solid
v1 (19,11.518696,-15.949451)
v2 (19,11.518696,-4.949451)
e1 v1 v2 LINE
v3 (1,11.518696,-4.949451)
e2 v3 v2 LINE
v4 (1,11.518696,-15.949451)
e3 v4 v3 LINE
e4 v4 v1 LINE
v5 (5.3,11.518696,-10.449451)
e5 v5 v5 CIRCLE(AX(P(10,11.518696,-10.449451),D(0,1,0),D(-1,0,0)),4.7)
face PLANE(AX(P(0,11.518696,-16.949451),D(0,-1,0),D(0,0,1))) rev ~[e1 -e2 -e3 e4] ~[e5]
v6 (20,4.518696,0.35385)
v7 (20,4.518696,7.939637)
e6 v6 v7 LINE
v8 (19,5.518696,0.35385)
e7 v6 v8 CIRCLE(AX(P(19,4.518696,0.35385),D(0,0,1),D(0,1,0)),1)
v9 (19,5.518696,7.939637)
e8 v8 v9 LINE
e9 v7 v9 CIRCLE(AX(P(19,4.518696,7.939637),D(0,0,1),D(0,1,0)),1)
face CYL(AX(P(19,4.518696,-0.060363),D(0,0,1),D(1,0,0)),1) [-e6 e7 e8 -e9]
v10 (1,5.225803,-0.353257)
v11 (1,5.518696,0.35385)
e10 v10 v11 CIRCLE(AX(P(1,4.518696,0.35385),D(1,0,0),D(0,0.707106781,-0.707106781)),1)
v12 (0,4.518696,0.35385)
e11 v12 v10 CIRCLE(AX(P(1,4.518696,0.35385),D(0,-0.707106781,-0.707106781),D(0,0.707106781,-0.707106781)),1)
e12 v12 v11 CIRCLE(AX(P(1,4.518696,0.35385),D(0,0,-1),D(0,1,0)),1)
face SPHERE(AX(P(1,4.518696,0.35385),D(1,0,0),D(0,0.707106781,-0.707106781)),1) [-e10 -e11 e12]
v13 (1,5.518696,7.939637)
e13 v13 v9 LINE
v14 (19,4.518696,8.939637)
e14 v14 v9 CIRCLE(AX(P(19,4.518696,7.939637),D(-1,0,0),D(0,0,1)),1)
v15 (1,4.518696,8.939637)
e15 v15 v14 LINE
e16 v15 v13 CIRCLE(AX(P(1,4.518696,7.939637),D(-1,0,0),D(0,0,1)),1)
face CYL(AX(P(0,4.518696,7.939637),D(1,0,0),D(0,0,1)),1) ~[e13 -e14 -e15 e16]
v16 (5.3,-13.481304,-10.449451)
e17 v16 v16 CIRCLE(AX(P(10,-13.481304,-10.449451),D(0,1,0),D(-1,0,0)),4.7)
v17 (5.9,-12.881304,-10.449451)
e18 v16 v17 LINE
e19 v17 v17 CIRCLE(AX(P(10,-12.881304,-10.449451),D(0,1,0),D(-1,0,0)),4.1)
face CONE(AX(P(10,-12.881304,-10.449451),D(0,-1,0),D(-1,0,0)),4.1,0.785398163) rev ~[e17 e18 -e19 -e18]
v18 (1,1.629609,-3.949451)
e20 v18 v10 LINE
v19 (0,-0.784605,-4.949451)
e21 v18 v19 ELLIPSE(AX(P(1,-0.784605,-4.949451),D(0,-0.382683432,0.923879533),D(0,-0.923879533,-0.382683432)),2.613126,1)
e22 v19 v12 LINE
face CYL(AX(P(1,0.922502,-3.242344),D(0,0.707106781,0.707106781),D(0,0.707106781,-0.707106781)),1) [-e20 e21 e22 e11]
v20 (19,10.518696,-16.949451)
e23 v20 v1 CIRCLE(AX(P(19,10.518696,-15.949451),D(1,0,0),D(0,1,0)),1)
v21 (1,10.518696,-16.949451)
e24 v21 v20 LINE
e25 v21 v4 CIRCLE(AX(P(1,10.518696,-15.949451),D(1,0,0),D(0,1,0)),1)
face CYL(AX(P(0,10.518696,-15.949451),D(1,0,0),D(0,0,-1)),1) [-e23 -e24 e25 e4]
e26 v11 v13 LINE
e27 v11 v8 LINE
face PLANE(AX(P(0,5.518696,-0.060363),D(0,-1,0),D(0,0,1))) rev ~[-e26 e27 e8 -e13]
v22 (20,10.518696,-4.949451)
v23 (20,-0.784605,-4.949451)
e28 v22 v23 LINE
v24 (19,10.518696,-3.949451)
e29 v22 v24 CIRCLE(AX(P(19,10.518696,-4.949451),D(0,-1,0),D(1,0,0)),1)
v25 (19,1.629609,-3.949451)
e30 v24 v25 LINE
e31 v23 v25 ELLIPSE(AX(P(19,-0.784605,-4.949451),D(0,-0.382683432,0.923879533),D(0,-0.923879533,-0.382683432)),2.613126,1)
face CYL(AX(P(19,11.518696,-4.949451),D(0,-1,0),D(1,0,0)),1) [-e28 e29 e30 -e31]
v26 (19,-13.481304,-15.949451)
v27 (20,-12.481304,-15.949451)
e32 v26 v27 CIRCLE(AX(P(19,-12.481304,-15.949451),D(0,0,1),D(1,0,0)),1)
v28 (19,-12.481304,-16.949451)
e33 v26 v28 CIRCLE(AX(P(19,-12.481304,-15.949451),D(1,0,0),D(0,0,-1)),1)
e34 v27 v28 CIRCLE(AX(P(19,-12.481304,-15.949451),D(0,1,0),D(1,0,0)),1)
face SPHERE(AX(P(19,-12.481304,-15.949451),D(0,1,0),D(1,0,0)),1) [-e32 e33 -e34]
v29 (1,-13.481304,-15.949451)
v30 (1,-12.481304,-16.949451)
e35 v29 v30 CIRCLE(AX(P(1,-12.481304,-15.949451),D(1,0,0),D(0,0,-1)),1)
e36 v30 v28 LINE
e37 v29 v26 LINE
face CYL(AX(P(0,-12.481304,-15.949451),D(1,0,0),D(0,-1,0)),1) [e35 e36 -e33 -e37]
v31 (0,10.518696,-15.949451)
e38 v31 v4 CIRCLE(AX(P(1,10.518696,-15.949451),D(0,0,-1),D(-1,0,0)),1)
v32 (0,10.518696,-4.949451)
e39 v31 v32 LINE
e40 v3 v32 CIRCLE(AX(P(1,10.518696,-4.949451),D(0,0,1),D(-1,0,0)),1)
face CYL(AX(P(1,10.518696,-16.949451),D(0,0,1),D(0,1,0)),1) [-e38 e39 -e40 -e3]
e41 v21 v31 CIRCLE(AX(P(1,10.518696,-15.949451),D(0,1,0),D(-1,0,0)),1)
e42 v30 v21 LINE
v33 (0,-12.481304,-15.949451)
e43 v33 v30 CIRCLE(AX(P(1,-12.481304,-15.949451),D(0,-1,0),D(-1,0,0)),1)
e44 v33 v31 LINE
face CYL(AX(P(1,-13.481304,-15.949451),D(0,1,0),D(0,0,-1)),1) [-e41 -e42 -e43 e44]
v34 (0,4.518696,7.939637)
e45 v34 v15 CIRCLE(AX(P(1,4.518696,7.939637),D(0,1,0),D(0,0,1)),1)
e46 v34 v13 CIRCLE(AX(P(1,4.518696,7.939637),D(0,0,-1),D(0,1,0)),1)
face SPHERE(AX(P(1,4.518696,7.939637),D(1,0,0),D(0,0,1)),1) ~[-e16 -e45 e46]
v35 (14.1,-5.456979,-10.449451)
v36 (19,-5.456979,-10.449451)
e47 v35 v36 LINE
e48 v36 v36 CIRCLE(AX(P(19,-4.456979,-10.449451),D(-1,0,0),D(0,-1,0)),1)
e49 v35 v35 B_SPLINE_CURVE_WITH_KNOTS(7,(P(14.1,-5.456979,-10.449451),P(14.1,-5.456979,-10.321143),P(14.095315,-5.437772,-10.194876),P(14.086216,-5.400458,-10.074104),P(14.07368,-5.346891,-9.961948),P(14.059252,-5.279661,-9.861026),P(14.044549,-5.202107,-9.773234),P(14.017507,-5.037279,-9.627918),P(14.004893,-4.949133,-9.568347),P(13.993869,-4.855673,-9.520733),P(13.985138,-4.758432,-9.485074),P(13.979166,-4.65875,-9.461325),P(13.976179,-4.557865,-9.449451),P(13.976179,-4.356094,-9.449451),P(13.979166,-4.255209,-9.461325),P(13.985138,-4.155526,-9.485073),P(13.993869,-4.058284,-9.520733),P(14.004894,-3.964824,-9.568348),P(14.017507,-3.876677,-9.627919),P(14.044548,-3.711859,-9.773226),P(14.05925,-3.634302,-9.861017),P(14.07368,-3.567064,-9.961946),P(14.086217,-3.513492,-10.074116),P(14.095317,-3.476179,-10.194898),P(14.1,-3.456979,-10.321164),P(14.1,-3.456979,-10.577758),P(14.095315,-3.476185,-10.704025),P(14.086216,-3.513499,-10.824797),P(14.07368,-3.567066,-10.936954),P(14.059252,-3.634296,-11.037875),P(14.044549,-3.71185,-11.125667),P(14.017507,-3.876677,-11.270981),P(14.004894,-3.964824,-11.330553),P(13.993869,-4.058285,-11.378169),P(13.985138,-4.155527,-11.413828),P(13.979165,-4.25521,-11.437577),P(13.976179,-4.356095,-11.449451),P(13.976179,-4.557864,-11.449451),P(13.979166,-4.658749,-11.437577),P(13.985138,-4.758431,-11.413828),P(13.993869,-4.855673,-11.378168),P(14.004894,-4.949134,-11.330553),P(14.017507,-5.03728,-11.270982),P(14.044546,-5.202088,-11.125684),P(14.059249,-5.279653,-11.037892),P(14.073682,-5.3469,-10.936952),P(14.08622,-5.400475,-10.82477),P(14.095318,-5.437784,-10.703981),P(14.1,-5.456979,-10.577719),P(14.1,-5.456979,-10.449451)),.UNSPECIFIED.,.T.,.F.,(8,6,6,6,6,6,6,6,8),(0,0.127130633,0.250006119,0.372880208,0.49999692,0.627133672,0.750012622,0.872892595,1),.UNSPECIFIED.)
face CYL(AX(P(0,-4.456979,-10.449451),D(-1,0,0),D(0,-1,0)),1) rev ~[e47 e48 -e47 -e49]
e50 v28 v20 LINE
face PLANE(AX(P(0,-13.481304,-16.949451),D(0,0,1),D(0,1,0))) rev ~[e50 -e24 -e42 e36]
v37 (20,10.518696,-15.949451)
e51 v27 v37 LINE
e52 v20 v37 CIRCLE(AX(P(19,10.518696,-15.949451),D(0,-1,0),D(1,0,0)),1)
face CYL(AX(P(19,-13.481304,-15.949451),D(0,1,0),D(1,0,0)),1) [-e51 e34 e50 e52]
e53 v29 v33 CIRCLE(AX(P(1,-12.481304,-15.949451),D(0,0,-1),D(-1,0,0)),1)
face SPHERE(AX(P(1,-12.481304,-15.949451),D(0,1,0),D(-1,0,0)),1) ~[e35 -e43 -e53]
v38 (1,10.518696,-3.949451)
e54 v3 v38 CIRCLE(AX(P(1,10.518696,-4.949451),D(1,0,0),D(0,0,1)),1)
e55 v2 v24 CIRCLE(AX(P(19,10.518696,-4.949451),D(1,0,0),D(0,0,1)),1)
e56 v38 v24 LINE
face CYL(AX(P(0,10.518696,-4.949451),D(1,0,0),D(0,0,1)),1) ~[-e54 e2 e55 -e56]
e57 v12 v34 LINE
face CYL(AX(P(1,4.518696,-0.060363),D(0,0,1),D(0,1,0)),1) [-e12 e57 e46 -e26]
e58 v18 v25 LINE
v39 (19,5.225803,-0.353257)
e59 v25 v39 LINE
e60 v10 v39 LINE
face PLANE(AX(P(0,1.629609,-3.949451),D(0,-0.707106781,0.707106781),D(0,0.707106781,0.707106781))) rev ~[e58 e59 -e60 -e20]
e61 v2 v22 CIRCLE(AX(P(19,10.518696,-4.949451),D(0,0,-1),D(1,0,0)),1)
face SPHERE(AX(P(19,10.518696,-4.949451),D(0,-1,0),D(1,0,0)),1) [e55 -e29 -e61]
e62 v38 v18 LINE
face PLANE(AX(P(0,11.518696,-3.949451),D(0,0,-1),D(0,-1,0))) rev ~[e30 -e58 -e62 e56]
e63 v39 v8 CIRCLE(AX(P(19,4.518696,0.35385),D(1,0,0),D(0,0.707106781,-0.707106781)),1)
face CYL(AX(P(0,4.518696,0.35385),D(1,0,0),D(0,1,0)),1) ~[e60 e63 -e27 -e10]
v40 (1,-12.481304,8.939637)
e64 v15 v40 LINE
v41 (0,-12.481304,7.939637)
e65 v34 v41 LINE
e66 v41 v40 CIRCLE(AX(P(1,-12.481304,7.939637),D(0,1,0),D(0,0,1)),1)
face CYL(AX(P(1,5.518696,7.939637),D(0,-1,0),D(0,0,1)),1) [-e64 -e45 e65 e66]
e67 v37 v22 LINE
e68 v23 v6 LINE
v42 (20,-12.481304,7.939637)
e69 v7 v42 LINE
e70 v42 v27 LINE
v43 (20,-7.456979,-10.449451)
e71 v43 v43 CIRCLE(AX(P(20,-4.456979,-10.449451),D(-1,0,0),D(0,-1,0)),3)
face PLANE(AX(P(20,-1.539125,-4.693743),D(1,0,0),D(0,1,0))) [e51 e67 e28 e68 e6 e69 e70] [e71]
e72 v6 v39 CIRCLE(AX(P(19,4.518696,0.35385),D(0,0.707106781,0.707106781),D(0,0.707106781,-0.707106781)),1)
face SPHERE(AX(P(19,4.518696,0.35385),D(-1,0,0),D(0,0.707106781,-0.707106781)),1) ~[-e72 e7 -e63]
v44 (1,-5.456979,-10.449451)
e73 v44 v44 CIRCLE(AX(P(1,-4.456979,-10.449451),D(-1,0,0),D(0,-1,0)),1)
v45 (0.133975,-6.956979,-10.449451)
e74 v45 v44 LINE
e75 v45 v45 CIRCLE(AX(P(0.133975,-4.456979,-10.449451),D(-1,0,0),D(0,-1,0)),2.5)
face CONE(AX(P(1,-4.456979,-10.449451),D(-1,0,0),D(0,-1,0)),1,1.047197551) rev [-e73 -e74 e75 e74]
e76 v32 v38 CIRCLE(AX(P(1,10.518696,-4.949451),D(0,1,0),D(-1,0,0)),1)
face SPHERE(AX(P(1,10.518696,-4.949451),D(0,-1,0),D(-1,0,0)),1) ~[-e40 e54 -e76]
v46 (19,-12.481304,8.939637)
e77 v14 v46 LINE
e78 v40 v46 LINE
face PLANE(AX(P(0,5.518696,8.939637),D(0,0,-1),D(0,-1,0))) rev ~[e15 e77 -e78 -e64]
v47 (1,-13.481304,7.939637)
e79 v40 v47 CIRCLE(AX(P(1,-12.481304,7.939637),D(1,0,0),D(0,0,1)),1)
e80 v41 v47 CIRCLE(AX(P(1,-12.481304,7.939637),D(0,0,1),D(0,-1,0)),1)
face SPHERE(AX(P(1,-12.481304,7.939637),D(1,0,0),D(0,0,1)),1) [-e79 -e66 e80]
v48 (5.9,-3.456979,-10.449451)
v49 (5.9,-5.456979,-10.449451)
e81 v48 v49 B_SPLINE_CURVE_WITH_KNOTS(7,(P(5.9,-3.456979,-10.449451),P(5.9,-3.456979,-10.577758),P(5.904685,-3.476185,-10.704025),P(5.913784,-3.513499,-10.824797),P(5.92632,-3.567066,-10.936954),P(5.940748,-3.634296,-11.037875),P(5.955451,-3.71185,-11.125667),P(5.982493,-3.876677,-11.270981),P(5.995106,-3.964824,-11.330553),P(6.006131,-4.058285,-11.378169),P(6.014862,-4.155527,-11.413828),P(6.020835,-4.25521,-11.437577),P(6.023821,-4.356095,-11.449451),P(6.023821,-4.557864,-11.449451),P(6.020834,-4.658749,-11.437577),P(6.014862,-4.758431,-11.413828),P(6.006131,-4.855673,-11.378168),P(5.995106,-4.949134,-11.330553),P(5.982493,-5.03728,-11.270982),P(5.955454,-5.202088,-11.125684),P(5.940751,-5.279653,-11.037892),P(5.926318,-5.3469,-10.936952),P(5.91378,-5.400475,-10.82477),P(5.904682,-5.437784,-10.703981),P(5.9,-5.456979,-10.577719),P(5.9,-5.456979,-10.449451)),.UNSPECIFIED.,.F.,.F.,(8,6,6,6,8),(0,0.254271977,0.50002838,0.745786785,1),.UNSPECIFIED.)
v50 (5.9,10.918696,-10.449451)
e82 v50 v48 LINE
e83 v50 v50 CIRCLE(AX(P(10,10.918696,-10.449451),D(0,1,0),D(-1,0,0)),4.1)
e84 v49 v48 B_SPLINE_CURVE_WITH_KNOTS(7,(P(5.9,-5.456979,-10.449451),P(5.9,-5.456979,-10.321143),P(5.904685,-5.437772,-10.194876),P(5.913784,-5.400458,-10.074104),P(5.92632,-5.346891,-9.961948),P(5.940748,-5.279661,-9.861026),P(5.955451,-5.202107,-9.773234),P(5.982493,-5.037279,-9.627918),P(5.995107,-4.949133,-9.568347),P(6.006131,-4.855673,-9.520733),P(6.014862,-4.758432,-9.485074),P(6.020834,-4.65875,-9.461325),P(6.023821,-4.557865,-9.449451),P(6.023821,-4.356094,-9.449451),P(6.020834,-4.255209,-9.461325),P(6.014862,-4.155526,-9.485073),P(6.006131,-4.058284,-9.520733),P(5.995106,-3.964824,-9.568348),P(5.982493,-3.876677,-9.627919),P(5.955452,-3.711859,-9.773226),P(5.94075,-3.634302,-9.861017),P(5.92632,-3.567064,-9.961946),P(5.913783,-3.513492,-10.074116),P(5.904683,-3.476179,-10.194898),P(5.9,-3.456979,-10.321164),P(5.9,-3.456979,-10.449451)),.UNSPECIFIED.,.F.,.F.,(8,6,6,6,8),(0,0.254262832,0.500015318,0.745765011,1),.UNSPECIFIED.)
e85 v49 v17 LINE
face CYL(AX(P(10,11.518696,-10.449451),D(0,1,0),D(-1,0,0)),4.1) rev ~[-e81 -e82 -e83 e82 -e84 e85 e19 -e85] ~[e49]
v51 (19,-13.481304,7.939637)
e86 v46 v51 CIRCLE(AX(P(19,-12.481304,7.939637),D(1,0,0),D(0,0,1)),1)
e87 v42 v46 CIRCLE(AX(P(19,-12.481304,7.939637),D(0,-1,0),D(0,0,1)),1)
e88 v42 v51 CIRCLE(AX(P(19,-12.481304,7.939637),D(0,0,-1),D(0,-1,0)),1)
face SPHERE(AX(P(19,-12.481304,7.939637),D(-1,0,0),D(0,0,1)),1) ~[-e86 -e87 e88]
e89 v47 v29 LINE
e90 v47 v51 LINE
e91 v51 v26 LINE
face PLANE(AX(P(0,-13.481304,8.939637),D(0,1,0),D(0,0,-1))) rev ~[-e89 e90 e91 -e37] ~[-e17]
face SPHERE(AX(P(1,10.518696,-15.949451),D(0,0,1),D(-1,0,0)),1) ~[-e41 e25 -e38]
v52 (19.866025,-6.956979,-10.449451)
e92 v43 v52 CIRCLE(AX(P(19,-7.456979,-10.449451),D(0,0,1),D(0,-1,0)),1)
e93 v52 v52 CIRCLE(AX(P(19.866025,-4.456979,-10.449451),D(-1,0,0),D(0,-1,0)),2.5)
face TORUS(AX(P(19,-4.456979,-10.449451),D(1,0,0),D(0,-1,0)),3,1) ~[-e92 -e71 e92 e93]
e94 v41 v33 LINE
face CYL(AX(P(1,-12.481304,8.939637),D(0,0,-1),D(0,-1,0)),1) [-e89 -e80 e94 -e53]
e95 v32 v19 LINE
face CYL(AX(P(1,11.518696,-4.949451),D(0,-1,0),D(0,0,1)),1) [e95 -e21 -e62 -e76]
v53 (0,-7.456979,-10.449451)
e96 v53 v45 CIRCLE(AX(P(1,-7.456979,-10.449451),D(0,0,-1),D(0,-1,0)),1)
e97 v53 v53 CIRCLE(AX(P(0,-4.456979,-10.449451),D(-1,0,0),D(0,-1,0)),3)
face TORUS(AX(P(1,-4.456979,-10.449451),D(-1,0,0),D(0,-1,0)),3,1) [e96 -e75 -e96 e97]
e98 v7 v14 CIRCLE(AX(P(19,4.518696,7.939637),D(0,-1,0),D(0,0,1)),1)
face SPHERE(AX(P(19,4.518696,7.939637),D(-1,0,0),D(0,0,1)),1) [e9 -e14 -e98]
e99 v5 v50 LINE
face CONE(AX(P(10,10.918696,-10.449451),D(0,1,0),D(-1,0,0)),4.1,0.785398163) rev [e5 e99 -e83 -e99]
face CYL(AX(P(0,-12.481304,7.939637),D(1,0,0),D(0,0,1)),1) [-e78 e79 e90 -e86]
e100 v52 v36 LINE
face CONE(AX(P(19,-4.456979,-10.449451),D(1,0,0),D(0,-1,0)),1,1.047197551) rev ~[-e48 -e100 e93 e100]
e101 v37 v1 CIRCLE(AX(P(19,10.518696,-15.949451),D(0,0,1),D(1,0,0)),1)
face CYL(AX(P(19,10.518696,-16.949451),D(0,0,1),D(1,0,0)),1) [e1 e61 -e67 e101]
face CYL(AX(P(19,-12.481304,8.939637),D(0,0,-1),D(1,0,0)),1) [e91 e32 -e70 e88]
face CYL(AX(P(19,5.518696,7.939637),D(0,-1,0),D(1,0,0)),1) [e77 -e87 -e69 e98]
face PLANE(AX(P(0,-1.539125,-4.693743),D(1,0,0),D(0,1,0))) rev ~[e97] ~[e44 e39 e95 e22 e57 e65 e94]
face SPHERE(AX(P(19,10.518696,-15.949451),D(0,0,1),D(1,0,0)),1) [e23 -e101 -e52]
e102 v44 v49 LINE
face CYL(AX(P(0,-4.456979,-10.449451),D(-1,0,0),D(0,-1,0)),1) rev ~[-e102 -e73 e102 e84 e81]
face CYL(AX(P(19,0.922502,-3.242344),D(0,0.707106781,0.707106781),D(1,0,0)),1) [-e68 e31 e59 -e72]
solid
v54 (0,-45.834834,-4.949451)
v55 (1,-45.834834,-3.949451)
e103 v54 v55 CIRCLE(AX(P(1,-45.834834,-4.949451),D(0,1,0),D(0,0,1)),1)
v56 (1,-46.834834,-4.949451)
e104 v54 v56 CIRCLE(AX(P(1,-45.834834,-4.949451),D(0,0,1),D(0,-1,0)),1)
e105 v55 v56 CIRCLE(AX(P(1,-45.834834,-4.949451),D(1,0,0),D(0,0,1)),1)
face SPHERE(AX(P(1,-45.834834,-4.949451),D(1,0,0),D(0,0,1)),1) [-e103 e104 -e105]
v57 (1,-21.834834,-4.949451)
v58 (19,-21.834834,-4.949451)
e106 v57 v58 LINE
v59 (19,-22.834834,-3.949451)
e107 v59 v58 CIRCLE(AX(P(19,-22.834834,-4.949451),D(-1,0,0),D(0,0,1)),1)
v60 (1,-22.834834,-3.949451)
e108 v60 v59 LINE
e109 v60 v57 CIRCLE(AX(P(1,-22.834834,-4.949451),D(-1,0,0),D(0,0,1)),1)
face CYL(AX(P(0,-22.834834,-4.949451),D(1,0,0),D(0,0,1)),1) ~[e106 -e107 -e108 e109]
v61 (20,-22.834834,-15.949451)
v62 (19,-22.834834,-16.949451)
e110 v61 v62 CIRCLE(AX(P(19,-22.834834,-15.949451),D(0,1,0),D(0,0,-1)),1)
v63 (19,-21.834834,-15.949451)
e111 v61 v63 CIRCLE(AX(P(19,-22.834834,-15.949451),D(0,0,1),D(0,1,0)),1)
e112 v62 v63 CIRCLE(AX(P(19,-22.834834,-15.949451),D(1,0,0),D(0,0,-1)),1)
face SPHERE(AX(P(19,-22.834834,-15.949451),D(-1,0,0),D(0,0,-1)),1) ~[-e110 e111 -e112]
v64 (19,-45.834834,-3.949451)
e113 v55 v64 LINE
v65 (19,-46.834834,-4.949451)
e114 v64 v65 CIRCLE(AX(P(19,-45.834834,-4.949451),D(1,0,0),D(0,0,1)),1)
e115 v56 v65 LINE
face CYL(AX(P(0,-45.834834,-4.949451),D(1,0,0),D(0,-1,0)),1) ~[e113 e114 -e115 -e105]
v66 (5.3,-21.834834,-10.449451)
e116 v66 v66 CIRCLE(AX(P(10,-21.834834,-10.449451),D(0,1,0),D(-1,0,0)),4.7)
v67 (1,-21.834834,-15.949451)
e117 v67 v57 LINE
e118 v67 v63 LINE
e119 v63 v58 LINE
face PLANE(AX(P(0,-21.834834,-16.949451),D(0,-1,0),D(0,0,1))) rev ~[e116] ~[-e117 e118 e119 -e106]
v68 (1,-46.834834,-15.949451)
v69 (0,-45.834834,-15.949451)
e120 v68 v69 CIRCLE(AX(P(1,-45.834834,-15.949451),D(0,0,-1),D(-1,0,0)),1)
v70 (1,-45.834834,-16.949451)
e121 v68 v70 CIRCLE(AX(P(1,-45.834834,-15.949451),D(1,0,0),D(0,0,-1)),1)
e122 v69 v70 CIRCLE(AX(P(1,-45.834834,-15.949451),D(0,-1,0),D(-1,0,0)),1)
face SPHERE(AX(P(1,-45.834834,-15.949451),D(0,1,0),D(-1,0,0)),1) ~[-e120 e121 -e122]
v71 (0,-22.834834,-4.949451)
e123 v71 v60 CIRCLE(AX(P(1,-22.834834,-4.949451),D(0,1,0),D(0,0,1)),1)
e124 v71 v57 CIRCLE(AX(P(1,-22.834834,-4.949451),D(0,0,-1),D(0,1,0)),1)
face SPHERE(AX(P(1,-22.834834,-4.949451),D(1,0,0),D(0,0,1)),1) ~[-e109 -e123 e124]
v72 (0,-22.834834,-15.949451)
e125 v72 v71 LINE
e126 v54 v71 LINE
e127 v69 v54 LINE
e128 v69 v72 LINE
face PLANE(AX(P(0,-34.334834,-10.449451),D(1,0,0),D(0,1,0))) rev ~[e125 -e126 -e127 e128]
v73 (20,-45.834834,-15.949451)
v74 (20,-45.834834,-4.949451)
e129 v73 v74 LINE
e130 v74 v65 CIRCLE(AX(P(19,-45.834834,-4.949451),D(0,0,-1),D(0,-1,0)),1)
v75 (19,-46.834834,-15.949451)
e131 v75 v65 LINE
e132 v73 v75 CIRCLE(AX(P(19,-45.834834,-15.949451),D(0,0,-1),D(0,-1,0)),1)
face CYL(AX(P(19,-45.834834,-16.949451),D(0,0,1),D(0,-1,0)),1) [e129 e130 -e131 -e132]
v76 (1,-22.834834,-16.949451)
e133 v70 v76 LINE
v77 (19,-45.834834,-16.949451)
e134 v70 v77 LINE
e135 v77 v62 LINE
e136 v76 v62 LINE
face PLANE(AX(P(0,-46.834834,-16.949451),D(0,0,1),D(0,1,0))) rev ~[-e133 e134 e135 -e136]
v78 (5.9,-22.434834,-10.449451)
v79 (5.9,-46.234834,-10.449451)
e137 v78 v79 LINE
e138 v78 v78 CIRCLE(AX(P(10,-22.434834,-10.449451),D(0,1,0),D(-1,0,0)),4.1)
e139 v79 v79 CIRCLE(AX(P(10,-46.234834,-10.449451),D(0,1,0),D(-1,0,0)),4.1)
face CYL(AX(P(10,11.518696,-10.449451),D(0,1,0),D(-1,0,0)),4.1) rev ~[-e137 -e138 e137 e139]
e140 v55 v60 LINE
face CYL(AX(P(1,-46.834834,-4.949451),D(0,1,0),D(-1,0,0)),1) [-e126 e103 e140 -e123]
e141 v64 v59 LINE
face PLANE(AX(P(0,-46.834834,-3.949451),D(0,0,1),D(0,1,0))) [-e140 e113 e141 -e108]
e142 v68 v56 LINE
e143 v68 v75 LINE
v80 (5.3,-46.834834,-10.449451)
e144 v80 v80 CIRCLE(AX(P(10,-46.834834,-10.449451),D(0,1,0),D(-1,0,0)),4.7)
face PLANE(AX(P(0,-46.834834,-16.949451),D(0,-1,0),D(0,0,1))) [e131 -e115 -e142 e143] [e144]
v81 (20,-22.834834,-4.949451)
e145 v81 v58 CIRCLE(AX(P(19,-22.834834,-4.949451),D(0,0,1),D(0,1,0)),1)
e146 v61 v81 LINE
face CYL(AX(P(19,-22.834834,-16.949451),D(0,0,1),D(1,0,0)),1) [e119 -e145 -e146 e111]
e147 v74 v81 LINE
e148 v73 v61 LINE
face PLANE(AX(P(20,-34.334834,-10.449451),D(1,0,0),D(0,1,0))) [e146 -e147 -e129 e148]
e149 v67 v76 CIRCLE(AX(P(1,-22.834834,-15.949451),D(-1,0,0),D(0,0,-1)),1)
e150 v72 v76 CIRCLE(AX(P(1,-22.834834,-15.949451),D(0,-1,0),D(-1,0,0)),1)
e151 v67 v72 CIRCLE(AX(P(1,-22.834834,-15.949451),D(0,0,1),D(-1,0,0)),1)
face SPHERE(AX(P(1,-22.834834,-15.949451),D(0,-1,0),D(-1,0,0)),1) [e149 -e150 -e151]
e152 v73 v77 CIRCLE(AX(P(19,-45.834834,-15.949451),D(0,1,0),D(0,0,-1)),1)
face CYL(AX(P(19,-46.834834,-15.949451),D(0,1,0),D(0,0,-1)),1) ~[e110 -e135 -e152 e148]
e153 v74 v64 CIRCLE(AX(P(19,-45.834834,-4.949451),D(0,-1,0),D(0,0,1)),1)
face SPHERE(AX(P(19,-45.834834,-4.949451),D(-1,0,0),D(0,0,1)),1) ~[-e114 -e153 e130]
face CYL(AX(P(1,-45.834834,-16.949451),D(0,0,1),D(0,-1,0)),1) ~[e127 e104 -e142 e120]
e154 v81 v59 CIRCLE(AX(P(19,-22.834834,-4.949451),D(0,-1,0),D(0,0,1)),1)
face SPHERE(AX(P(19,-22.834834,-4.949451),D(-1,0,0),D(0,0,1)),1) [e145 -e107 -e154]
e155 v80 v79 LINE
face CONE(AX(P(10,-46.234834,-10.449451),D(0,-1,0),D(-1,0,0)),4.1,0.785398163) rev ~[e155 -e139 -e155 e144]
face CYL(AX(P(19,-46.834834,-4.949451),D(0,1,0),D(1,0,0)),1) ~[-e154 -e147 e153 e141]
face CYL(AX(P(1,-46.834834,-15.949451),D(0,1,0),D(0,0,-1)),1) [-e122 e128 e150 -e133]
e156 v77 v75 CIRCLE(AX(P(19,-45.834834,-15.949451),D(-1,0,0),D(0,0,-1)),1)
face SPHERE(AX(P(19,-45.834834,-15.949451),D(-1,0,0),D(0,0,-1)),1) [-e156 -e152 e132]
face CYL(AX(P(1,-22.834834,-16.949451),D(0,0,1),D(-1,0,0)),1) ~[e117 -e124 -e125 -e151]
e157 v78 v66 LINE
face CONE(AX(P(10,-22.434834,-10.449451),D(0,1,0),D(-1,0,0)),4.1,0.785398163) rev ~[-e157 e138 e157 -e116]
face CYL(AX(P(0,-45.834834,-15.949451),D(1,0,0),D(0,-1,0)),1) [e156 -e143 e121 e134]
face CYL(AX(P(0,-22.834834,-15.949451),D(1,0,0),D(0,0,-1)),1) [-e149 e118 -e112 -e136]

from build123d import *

# Parameters (mm, degrees)
F1_DEPTH   = 20
F0_W       = 25
F0_H       = 13
F2_R       = 4.1
F3_DEPTH   = 58.3545298705
F4_R       = 1
F5_DEPTH   = 20.001
F6_SIZE2   = 1
F6_SIZE    = 1.7320508076
F6_2_SIZE2 = 1
F6_2_SIZE  = 1.7320508076
F7_R       = 1
F7_2_R     = 1
F8_SIZE    = 0.6
F8_2_SIZE  = 0.6


with BuildPart() as f1:
    # F0 (on Right) → F1 (new body)
    with BuildSketch(Plane.YZ):
        Polygon((5.5186959505, 8.9396367073), (-13.4813040495, 8.9396367073), (-13.4813040495, -16.9494505892), (11.5186959505, -16.9494505892), (11.5186959505, -3.9494505892), (1.629608654, -3.9494505892), (5.5186959505, -0.0603632927), align=None)
    extrude(amount=F1_DEPTH)


with BuildPart() as f1b:
    # F0 (on Right) → F1, piece 2 (new body)
    with BuildSketch(Plane.YZ):
        with Locations((-34.33483392, -10.4494505892)):
            Rectangle(F0_W, F0_H)
    extrude(amount=F1_DEPTH)


with BuildPart() as f3_tool:
    # F2 (on face) → F3 (new body, through all)
    with BuildSketch(Plane(origin=(0, 11.5186959505, 0), x_dir=(-1, 0, 0), z_dir=(0, 1, 0))):
        with Locations((-10, -10.4494505892)):
            Circle(F2_R)
    extrude(amount=-F3_DEPTH)


with BuildPart() as f1_1:
    add(f1.part)

    # F3: cut by f3_tool
    add(f3_tool.part, mode=Mode.SUBTRACT)

    # F4 (on face) → F5 (cut, through all)
    with BuildSketch(Plane(origin=(0, 0, 0), x_dir=(0, -1, 0), z_dir=(-1, 0, 0))):
        with Locations((4.4569787569, -10.4494505892)):
            Circle(F4_R)
    extrude(amount=-F5_DEPTH, mode=Mode.SUBTRACT)

    # F6
    f6_edges = [f1_1.edges().sort_by_distance(p)[0] for p in [
        (0, -3.456979, -10.449451),
    ]]
    f6_side = f1_1.faces().sort_by_distance((0, -2.34598, -4.885918))[0]
    chamfer(f6_edges, length=F6_SIZE, length2=F6_SIZE2, reference=f6_side)

    # F6#2
    f6_2_edges = [f1_1.edges().sort_by_distance(p)[0] for p in [
        (20, -3.456979, -10.449451),
    ]]
    f6_2_side = f1_1.faces().sort_by_distance((20, -2.34598, -4.885918))[0]
    chamfer(f6_2_edges, length=F6_2_SIZE, length2=F6_2_SIZE2, reference=f6_2_side)

    # F7
    f7_edges = [f1_1.edges().sort_by_distance(p)[0] for p in [
        (10, 5.518696, 8.939637),
        (10, -13.481304, 8.939637),
        (0, -3.981304, 8.939637),
        (20, -3.981304, 8.939637),
        (0, -1.724928, -10.449451),
        (0, 6.574152, -3.949451),
        (0, 11.518696, -10.449451),
        (0, 3.574152, -2.004907),
        (0, -0.981304, -16.949451),
        (0, 5.518696, 4.439637),
        (0, -13.481304, -4.004907),
        (20, -1.724928, -10.449451),
        (20, 6.574152, -3.949451),
        (20, 11.518696, -10.449451),
        (20, 3.574152, -2.004907),
        (20, -0.981304, -16.949451),
        (20, 5.518696, 4.439637),
        (20, -13.481304, -4.004907),
        (10, -13.481304, -16.949451),
        (10, 11.518696, -16.949451),
        (10, 11.518696, -3.949451),
        (10, 5.518696, -0.060363),
    ]]
    fillet(f7_edges, radius=F7_R)

    # F8
    f8_edges = [f1_1.edges().sort_by_distance(p)[0] for p in [
        (14.1, 11.518696, -10.449451),
        (14.1, -13.481304, -10.449451),
    ]]
    chamfer(f8_edges, length=F8_SIZE)


with BuildPart() as f1b_1:
    add(f1b.part)

    # F3: cut by f3_tool
    add(f3_tool.part, mode=Mode.SUBTRACT)

    # F7#2
    f7_2_edges = [f1b_1.edges().sort_by_distance(p)[0] for p in [
        (10, -21.834834, -3.949451),
        (10, -46.834834, -3.949451),
        (0, -34.334834, -3.949451),
        (20, -34.334834, -3.949451),
        (0, -34.334834, -16.949451),
        (0, -21.834834, -10.449451),
        (0, -46.834834, -10.449451),
        (10, -46.834834, -16.949451),
        (10, -21.834834, -16.949451),
        (20, -34.334834, -16.949451),
        (20, -21.834834, -10.449451),
        (20, -46.834834, -10.449451),
    ]]
    fillet(f7_2_edges, radius=F7_2_R)

    # F8#2
    f8_2_edges = [f1b_1.edges().sort_by_distance(p)[0] for p in [
        (14.1, -46.834834, -10.449451),
        (14.1, -21.834834, -10.449451),
    ]]
    chamfer(f8_2_edges, length=F8_2_SIZE)


solid = Compound([f1_1.part, f1b_1.part])
